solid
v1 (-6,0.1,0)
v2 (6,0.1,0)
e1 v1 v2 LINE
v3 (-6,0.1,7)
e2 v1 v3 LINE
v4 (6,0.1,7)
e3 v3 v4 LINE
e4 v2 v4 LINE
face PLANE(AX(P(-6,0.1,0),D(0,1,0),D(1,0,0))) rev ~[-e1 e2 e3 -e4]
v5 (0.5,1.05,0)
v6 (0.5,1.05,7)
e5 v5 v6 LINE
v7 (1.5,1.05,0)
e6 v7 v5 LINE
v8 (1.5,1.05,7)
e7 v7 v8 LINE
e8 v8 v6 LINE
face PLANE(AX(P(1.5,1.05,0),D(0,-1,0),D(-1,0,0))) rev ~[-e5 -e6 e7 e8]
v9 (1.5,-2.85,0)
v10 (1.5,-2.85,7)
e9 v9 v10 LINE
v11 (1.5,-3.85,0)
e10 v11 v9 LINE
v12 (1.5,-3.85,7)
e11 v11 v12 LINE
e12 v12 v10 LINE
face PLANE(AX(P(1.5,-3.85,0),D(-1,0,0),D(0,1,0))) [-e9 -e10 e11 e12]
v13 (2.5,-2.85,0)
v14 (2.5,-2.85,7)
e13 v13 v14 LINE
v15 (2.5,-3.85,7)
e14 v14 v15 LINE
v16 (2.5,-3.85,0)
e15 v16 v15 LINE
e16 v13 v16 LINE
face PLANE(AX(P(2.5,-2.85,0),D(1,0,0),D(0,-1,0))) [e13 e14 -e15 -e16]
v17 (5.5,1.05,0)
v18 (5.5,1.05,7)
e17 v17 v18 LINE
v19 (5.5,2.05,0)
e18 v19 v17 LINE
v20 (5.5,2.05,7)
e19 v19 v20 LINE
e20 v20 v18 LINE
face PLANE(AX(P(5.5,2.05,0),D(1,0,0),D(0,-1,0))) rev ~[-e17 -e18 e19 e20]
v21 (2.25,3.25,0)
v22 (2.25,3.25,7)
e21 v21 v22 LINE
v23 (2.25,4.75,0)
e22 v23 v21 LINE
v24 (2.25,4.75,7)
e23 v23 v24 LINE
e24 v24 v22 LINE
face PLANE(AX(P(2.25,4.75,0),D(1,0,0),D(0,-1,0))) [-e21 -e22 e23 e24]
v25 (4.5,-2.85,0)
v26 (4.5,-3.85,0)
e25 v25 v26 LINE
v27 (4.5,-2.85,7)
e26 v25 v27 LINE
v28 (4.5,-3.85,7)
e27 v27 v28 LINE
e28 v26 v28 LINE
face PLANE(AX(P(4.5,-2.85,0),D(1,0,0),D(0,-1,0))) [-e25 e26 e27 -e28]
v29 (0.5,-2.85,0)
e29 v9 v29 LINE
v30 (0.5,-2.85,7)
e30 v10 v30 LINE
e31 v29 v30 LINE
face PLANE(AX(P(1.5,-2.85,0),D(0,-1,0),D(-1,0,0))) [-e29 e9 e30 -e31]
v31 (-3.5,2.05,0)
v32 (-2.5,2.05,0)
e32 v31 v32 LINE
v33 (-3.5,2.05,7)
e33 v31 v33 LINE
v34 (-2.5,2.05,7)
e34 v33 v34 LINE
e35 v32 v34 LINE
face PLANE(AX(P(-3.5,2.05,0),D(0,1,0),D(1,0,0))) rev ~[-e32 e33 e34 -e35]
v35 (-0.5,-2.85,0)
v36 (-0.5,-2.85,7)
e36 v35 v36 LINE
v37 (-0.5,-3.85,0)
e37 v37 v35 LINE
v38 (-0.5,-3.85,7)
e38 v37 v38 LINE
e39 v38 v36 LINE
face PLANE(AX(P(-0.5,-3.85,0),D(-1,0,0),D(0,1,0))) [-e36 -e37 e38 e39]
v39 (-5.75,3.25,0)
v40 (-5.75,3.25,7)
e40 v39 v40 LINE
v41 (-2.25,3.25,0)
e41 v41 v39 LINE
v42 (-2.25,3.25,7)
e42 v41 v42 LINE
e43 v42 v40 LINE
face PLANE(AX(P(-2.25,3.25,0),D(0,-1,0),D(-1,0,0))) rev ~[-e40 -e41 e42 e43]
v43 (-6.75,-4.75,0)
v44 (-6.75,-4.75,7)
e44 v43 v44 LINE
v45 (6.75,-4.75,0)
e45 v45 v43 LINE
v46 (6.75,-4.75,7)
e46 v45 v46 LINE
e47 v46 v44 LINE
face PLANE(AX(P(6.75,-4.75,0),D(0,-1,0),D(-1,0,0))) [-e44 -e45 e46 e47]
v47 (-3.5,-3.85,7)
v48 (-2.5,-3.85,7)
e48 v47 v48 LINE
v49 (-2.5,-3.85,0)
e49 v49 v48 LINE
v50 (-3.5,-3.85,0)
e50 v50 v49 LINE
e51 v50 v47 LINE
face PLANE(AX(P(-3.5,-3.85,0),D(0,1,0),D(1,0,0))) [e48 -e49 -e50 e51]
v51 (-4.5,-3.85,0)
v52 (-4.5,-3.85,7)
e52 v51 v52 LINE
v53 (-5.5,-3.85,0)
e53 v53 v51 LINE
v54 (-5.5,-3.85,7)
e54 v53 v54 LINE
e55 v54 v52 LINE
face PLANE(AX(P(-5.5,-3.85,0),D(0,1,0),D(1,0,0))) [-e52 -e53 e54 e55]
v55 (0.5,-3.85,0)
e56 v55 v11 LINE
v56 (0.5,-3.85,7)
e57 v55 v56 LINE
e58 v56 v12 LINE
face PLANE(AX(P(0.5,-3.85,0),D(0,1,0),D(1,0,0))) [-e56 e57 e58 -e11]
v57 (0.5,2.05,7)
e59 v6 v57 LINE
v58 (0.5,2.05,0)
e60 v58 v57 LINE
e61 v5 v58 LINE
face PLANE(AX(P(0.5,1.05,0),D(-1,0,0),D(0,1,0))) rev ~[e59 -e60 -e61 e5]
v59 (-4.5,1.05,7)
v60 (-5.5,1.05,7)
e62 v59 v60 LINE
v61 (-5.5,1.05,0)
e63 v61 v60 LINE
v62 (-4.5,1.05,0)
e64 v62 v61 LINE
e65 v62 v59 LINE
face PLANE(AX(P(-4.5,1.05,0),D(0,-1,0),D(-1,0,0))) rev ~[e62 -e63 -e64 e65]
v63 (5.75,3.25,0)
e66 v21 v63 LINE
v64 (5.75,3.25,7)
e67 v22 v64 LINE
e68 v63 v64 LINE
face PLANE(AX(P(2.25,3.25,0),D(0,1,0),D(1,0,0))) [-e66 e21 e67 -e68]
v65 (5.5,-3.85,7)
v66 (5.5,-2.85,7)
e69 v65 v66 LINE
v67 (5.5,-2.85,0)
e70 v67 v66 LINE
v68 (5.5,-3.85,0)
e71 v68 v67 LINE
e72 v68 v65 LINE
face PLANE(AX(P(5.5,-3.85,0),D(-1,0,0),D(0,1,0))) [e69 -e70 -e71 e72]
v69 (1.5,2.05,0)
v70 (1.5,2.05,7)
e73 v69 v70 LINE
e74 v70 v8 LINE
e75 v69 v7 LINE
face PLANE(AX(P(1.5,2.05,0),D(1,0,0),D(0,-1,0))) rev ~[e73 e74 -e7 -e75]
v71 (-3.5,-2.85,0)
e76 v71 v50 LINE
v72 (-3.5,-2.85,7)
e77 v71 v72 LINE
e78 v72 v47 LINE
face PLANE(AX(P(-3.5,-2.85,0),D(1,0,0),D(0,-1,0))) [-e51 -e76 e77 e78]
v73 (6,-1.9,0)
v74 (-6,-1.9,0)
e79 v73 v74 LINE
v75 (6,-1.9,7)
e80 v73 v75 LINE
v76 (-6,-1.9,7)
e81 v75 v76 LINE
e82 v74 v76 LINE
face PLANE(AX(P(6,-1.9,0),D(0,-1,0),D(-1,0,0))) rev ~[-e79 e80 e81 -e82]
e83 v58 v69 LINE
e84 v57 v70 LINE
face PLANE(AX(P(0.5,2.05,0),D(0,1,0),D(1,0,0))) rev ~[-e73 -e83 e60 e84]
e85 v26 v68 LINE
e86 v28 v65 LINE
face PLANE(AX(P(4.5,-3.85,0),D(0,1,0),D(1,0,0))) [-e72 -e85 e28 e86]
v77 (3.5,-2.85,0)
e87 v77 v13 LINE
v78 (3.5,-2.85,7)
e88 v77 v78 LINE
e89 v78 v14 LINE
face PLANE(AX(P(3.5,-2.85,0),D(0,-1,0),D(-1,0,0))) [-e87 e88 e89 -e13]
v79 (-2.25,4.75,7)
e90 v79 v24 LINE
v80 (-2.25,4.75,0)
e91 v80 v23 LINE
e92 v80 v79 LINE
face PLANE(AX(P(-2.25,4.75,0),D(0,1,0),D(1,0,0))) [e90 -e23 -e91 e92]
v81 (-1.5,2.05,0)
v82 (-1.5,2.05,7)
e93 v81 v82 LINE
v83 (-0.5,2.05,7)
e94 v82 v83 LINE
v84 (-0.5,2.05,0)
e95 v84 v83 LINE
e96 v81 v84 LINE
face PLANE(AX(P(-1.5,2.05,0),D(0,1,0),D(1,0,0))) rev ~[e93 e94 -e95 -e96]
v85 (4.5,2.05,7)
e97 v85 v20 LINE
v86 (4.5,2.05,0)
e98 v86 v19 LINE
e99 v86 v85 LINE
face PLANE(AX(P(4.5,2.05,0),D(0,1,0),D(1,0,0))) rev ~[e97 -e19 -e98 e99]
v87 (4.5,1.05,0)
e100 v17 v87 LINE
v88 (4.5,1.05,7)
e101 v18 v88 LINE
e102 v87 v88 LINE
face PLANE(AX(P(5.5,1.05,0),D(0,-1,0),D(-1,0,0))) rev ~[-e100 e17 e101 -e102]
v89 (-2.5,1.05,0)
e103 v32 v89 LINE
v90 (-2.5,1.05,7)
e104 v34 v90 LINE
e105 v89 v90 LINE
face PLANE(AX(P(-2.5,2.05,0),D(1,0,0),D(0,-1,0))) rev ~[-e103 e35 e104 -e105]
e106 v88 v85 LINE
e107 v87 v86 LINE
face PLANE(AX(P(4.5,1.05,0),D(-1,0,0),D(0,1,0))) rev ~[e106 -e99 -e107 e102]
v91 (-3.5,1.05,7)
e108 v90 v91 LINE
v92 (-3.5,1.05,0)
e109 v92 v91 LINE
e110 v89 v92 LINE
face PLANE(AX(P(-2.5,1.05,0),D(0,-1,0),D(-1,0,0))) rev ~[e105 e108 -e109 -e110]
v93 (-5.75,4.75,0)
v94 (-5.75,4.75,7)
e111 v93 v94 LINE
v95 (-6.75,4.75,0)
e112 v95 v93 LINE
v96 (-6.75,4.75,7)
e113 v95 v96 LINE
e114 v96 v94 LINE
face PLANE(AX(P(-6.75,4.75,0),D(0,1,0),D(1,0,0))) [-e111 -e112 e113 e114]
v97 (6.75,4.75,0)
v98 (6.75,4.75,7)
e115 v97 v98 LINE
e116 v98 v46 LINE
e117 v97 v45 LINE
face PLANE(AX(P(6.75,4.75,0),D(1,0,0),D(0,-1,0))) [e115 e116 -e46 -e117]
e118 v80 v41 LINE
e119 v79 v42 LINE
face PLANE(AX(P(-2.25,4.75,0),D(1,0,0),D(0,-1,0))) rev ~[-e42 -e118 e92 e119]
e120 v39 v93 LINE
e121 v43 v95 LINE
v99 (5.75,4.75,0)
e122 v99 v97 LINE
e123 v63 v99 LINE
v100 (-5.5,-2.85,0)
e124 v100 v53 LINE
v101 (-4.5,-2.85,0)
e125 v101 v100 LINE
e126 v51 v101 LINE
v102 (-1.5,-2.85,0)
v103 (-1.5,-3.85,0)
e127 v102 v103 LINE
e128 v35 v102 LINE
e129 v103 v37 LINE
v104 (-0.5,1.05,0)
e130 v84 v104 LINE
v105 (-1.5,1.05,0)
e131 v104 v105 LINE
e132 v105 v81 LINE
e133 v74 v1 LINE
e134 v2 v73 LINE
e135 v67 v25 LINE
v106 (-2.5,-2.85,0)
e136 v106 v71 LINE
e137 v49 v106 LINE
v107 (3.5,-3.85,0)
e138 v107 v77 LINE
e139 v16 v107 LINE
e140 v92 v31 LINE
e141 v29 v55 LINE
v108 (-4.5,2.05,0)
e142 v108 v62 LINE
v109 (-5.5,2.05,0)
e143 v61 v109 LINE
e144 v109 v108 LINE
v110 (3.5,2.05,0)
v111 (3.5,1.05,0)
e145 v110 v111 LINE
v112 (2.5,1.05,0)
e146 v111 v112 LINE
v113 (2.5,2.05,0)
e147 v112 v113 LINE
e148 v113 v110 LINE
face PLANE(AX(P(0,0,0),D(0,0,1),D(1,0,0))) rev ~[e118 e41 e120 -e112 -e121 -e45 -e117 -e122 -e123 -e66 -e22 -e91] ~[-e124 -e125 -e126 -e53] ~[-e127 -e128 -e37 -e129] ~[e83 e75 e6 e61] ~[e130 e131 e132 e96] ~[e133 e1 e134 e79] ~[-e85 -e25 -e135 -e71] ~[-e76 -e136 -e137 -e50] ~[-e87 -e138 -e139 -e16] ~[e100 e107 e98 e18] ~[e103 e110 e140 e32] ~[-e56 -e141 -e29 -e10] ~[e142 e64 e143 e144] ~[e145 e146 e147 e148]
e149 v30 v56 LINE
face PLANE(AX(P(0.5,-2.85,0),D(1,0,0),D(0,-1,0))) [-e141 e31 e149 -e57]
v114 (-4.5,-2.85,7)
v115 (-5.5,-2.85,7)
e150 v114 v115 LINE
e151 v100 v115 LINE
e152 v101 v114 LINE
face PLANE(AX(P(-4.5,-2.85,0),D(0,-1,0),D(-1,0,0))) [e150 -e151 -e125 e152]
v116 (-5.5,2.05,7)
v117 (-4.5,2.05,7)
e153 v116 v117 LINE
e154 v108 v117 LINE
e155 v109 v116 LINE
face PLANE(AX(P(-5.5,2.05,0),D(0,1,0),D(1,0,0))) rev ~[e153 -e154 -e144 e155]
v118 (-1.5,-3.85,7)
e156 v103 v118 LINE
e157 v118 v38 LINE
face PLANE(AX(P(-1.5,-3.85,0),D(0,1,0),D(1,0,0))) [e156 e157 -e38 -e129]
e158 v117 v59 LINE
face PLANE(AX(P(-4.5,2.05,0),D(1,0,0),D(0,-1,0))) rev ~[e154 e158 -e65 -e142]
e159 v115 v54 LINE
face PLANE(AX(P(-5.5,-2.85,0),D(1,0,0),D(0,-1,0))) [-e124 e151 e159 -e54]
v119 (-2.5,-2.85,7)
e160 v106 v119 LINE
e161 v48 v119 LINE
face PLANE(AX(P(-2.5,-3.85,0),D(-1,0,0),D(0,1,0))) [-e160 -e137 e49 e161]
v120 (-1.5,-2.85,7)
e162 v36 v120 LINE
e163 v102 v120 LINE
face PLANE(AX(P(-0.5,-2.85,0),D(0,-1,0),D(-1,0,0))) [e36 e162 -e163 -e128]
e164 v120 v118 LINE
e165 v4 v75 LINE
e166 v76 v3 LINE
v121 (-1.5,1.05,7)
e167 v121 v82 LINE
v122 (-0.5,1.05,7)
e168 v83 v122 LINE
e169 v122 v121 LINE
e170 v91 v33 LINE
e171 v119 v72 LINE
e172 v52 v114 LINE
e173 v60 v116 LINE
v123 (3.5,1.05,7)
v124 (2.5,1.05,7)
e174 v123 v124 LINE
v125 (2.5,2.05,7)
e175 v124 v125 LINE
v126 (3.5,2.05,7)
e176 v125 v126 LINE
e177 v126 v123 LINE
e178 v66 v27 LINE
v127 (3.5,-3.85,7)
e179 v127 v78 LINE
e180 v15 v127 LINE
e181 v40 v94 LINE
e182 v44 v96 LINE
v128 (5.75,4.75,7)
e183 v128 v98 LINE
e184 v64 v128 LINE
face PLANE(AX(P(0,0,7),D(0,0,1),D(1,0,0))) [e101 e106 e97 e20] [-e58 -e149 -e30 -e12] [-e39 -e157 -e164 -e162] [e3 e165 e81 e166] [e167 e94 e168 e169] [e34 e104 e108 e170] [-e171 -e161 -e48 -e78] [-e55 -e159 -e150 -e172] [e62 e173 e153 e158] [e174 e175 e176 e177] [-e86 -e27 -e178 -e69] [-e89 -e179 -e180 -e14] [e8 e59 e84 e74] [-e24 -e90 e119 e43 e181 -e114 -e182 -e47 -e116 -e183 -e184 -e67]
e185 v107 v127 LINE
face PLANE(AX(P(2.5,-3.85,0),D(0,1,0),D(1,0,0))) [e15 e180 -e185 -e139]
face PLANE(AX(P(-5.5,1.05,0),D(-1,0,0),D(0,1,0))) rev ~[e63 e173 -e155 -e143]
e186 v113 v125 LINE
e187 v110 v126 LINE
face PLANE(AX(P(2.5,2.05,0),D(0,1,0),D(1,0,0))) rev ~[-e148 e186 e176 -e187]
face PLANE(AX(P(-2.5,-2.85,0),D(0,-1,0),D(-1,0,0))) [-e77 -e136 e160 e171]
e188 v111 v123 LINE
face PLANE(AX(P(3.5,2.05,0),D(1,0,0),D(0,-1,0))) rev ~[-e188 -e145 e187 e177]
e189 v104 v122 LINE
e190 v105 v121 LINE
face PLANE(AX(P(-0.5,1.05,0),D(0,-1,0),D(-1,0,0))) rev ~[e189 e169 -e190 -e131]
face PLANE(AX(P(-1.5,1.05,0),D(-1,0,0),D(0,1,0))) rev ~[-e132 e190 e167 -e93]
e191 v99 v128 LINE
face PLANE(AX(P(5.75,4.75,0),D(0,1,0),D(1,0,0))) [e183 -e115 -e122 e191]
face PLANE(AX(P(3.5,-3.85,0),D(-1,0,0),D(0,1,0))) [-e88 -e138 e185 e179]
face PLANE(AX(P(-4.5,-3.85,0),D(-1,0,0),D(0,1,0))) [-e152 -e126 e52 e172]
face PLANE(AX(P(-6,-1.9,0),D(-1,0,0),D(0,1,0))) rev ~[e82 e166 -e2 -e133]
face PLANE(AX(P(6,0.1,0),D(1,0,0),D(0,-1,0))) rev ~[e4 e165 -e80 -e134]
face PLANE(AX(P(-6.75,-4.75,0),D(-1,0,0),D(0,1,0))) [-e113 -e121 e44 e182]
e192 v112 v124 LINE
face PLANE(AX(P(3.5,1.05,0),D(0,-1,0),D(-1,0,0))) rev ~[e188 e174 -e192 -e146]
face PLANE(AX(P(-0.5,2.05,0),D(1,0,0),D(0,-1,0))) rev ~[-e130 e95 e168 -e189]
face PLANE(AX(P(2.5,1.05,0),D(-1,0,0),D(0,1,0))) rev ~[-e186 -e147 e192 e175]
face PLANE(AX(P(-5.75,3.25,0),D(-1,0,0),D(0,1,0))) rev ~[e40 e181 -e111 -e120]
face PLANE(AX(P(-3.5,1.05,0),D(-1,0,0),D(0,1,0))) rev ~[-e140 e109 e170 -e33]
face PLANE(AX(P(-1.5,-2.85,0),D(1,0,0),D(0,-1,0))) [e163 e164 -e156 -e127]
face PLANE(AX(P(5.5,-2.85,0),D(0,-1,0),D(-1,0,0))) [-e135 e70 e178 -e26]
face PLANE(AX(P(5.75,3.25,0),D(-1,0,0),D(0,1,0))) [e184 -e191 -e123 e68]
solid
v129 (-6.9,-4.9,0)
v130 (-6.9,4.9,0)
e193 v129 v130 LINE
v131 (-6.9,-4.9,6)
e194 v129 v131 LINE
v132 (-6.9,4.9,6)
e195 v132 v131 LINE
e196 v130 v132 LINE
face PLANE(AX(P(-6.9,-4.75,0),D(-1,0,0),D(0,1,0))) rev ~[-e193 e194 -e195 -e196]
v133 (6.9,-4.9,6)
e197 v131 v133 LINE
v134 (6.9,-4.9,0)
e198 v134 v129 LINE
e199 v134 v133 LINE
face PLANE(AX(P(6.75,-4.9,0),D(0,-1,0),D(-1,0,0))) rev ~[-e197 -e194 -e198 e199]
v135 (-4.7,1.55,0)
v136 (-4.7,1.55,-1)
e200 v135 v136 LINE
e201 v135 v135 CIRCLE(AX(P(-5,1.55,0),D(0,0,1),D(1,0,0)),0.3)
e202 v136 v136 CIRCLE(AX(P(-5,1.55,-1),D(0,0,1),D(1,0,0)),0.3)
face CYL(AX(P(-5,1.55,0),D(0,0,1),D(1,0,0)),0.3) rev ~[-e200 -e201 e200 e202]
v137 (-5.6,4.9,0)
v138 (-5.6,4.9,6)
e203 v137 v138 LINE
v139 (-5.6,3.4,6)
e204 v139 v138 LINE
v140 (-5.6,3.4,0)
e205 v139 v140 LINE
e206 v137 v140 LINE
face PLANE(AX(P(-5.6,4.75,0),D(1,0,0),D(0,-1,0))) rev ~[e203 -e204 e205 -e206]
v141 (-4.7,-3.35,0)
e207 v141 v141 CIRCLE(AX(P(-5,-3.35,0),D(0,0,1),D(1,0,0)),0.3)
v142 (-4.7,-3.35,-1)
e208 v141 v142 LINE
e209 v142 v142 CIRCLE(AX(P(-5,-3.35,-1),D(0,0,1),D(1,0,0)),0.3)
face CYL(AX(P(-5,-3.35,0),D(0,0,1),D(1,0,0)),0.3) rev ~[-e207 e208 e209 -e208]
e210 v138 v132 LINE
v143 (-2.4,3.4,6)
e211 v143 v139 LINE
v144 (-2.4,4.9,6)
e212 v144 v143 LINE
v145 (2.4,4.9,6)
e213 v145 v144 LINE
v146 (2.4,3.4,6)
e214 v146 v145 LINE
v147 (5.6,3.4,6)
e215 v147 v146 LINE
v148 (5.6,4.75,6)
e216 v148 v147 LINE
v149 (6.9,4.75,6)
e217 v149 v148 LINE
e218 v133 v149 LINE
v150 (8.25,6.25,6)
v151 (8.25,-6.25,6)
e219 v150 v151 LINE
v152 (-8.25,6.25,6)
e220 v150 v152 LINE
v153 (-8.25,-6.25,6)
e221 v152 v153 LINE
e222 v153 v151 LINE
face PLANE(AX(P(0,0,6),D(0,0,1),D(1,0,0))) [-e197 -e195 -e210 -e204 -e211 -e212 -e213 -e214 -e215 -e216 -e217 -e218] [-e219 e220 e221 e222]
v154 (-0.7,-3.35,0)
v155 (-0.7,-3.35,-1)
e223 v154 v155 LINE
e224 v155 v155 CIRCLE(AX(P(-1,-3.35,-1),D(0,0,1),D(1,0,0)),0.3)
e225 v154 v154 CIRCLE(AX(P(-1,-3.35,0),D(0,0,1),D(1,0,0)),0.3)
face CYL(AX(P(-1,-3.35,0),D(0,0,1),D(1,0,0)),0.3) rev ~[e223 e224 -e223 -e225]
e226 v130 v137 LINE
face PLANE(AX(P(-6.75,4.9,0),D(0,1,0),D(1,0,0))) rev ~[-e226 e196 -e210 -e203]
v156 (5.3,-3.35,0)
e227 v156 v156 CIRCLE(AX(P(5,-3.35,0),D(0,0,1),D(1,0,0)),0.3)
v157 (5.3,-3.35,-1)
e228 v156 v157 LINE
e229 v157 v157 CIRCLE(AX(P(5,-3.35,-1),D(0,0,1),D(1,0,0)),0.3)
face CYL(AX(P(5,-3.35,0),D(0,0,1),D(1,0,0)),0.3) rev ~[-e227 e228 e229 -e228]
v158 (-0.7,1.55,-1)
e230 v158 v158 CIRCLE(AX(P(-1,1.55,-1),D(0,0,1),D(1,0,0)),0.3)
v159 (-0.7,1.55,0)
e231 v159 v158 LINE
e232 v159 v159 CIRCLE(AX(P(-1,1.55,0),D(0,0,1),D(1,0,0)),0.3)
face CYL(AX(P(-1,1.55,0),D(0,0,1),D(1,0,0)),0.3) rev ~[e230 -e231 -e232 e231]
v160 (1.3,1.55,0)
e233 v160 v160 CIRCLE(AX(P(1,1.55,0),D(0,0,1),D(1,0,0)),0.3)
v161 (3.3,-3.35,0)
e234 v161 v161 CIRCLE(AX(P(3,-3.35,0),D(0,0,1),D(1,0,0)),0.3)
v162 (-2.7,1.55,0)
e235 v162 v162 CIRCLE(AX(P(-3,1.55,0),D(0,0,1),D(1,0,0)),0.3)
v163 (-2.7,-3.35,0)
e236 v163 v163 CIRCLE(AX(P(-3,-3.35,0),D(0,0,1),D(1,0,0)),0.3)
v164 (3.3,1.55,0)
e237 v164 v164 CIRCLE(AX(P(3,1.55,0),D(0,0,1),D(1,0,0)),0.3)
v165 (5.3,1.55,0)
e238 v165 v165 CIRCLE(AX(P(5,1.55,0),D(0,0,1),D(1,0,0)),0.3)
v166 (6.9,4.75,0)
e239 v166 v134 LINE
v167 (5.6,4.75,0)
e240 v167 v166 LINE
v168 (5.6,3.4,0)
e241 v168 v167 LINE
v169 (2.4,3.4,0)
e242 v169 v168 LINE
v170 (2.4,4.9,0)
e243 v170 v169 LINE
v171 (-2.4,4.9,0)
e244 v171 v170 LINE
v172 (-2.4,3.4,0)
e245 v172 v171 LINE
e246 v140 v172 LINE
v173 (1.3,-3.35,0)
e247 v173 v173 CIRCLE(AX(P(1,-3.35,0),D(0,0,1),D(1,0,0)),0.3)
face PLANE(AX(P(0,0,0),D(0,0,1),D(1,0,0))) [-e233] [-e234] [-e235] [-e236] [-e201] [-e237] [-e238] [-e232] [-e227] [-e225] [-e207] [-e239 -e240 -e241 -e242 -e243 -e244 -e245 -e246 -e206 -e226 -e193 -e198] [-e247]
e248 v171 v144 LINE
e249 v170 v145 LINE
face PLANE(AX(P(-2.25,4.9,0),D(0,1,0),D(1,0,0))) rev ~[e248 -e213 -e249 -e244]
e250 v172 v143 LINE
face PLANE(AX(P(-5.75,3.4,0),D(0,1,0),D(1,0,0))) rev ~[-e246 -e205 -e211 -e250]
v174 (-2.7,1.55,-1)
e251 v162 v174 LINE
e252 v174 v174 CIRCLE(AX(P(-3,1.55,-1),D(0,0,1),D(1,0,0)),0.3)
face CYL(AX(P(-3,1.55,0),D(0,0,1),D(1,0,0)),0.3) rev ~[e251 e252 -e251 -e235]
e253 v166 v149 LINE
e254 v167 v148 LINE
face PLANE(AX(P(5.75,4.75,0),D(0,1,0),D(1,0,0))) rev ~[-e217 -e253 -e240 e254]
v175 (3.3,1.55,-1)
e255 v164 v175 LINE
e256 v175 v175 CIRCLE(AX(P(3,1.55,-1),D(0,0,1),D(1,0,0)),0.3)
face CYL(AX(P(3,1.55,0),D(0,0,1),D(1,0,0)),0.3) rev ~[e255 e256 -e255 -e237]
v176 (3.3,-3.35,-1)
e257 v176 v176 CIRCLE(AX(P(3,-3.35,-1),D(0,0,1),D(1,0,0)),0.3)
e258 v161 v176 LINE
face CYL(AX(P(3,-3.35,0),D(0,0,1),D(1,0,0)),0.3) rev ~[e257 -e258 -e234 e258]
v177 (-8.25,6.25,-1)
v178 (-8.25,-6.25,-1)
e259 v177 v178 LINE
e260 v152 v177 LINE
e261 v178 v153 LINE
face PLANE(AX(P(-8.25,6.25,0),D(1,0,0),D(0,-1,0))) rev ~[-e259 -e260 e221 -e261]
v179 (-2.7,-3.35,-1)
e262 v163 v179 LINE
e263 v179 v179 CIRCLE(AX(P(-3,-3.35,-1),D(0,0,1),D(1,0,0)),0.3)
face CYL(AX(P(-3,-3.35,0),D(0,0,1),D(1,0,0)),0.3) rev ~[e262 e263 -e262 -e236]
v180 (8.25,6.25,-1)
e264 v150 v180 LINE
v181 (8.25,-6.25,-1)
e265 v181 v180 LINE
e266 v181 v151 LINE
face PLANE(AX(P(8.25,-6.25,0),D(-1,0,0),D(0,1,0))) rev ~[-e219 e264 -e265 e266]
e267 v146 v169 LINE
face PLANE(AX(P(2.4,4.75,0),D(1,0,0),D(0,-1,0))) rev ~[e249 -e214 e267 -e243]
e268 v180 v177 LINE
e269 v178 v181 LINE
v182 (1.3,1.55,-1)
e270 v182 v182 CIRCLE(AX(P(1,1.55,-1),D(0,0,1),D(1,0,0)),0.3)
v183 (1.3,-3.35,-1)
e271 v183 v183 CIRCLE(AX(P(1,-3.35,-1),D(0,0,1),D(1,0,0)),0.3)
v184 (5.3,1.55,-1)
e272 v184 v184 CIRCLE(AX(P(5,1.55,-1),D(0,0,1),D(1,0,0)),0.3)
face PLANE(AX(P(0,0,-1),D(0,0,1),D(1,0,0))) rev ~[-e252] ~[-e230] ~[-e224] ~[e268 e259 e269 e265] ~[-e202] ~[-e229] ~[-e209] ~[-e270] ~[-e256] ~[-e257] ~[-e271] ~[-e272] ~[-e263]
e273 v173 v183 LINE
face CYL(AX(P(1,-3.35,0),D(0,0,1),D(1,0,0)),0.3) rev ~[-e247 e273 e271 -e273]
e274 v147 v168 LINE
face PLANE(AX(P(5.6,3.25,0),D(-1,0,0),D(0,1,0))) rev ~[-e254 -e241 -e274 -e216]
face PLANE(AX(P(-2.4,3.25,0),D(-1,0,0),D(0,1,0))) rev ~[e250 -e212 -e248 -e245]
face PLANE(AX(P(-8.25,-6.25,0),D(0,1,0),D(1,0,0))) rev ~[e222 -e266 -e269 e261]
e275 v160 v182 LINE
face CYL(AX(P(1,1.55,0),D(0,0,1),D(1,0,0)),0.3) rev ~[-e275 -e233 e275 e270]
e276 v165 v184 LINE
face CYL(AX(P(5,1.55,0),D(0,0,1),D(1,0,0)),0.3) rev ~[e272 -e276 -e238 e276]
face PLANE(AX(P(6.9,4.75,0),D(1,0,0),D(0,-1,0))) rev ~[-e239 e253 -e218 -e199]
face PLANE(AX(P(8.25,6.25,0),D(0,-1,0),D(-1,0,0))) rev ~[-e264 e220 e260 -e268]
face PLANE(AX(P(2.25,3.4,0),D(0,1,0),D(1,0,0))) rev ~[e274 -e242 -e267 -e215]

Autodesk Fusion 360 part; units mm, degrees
sketch "Sketch1" plane through (0, 0, 0) normal (0, 0, 1) x (1, 0, 0) in component "Connector"
  line L0 (6.75, -4.75) -> (-6.75, -4.75)
  line L1 (-6.75, -4.75) -> (-6.75, 4.75)
  line L2 (-6.75, 4.75) -> (6.75, 4.75)
  line L3 (6.75, 4.75) -> (6.75, -4.75)
  line L4 (6.75, -4.75) -> (-6.75, 4.75) construction
  line L5 (-6.75, -4.75) -> (6.75, 4.75) construction
  line L6 (-5.75, 4.75) -> (-2.25, 4.75)
  line L7 (-2.25, 4.75) -> (-2.25, 3.25)
  line L8 (-2.25, 3.25) -> (-5.75, 3.25)
  line L9 (-5.75, 3.25) -> (-5.75, 4.75)
  line L10 (0, 0) -> (0, 4.75) construction
  line L11 (2.25, 3.25) -> (5.75, 3.25)
  line L12 (2.25, 4.75) -> (2.25, 3.25)
  line L13 (5.75, 3.25) -> (5.75, 4.75)
  line L14 (5.75, 4.75) -> (2.25, 4.75)
  line L15 (0, -4.75) -> (0, -0.9) construction
  line L16 (6, -1.9) -> (-6, -1.9)
  line L17 (-6, -1.9) -> (-6, 0.1)
  line L18 (-6, 0.1) -> (6, 0.1)
  line L19 (6, 0.1) -> (6, -1.9)
  line L20 (6, -1.9) -> (-6, 0.1) construction
  line L21 (-6, -1.9) -> (6, 0.1) construction
  line L22 (-5.5, -3.85) -> (-4.5, -3.85)
  line L23 (-4.5, -3.85) -> (-4.5, -2.85)
  line L24 (-4.5, -2.85) -> (-5.5, -2.85)
  line L25 (-5.5, -2.85) -> (-5.5, -3.85)
  line L26 (-3.5, -3.85) -> (-2.5, -3.85)
  line L27 (-2.5, -3.85) -> (-2.5, -2.85)
  line L28 (-2.5, -2.85) -> (-3.5, -2.85)
  line L29 (-3.5, -2.85) -> (-3.5, -3.85)
  line L30 (-1.5, -3.85) -> (-0.5, -3.85)
  line L31 (-0.5, -3.85) -> (-0.5, -2.85)
  line L32 (-0.5, -2.85) -> (-1.5, -2.85)
  line L33 (-1.5, -2.85) -> (-1.5, -3.85)
  line L34 (0.5, -3.85) -> (1.5, -3.85)
  line L35 (1.5, -3.85) -> (1.5, -2.85)
  line L36 (1.5, -2.85) -> (0.5, -2.85)
  line L37 (0.5, -2.85) -> (0.5, -3.85)
  line L38 (2.5, -3.85) -> (3.5, -3.85)
  line L39 (3.5, -3.85) -> (3.5, -2.85)
  line L40 (3.5, -2.85) -> (2.5, -2.85)
  line L41 (2.5, -2.85) -> (2.5, -3.85)
  line L42 (4.5, -3.85) -> (5.5, -3.85)
  line L43 (5.5, -3.85) -> (5.5, -2.85)
  line L44 (5.5, -2.85) -> (4.5, -2.85)
  line L45 (4.5, -2.85) -> (4.5, -3.85)
  line L46 (-5.5, -3.85) -> (-6.75, -3.85) construction
  line L47 (5.5, -3.85) -> (6.75, -3.85) construction
  line L48 (0, -0.9) -> (6, -0.9) construction
  line L49 (-1.5, 1.05) -> (-1.5, 2.05)
  line L50 (4.5, 1.05) -> (4.5, 2.05)
  line L51 (1.5, 2.05) -> (1.5, 1.05)
  line L52 (-0.5, 2.05) -> (-0.5, 1.05)
  line L53 (-3.5, 2.05) -> (-2.5, 2.05)
  line L54 (-2.5, 1.05) -> (-3.5, 1.05)
  line L55 (-2.5, 2.05) -> (-2.5, 1.05)
  line L56 (3.5, 1.05) -> (2.5, 1.05)
  line L57 (1.5, 1.05) -> (0.5, 1.05)
  line L58 (-4.5, 2.05) -> (-4.5, 1.05)
  line L59 (0.5, 1.05) -> (0.5, 2.05)
  line L60 (3.5, 2.05) -> (3.5, 1.05)
  line L61 (-1.5, 2.05) -> (-0.5, 2.05)
  line L62 (-5.5, 2.05) -> (-4.5, 2.05)
  line L63 (5.5, 2.05) -> (5.5, 1.05)
  line L64 (-0.5, 1.05) -> (-1.5, 1.05)
  line L65 (2.5, 1.05) -> (2.5, 2.05)
  line L66 (4.5, 2.05) -> (5.5, 2.05)
  line L67 (-3.5, 1.05) -> (-3.5, 2.05)
  line L68 (5.5, 1.05) -> (4.5, 1.05)
  line L69 (0.5, 2.05) -> (1.5, 2.05)
  line L70 (-4.5, 1.05) -> (-5.5, 1.05)
  line L71 (-5.5, 1.05) -> (-5.5, 2.05)
  line L72 (2.5, 2.05) -> (3.5, 2.05)
  point P0 (0, -0.9)
  dimension "d1" = 13.5
  dimension "d2" = 9.5
  dimension "d3" = 3.5
  dimension "d4" = 1.5
  dimension "d5" = 1
  dimension "d6" = 3.85
  dimension "d7" = 12
  dimension "d8" = 2
  dimension "d9" = 1
  dimension "d10" = 1
  dimension "d11" = 0.9
  dimension "d15" = 2
  dimension "d16" = 0
extrude "Extrude1" add sketch "Sketch1" along normal blind 7 contours L0 L1 L2 L3 L7 L8 L9 L11 L12 L13 makes body 1 in component "Connector"
sketch "Sketch1 (2)" plane through (0, 0, 0) normal (0, 0, 1) x (1, 0, 0) in component "Socket"
  line L0 (4.5, -2.85) -> (4.5, -3.85) construction
  line L1 (4.5, -3.85) -> (5.5, -3.85) construction
  line L2 (5.5, -3.85) -> (5.5, -2.85) construction
  line L3 (5.5, -2.85) -> (4.5, -2.85) construction
  line L4 (0.5, -2.85) -> (0.5, -3.85) construction
  line L5 (0.5, -3.85) -> (1.5, -3.85) construction
  line L6 (1.5, -3.85) -> (1.5, -2.85) construction
  line L7 (1.5, -2.85) -> (0.5, -2.85) construction
  line L8 (-5.5, -2.85) -> (-5.5, -3.85) construction
  line L9 (-5.5, -3.85) -> (-4.5, -3.85) construction
  line L10 (-4.5, -3.85) -> (-4.5, -2.85) construction
  line L11 (-4.5, -2.85) -> (-5.5, -2.85) construction
  line L12 (-5.5, 1.05) -> (-4.5, 1.05) construction
  line L13 (-4.5, 1.05) -> (-4.5, 2.05) construction
  line L14 (-4.5, 2.05) -> (-5.5, 2.05) construction
  line L15 (-5.5, 2.05) -> (-5.5, 1.05) construction
  line L16 (2.5, 2.05) -> (2.5, 1.05) construction
  line L17 (2.5, 1.05) -> (3.5, 1.05) construction
  line L18 (3.5, 1.05) -> (3.5, 2.05) construction
  line L19 (3.5, 2.05) -> (2.5, 2.05) construction
  line L20 (0.5, 2.05) -> (0.5, 1.05) construction
  line L21 (0.5, 1.05) -> (1.5, 1.05) construction
  line L22 (1.5, 1.05) -> (1.5, 2.05) construction
  line L23 (1.5, 2.05) -> (0.5, 2.05) construction
  line L24 (5.5, 1.05) -> (5.5, 2.05) construction
  line L25 (5.5, 2.05) -> (4.5, 2.05) construction
  line L26 (4.5, 2.05) -> (4.5, 1.05) construction
  line L27 (4.5, 1.05) -> (5.5, 1.05) construction
  line L28 (-0.5, 1.05) -> (-0.5, 2.05) construction
  line L29 (-0.5, 2.05) -> (-1.5, 2.05) construction
  line L30 (-1.5, 2.05) -> (-1.5, 1.05) construction
  line L31 (-1.5, 1.05) -> (-0.5, 1.05) construction
  line L32 (-3.5, 1.05) -> (-2.5, 1.05) construction
  line L33 (-2.5, 1.05) -> (-2.5, 2.05) construction
  line L34 (-2.5, 2.05) -> (-3.5, 2.05) construction
  line L35 (-3.5, 2.05) -> (-3.5, 1.05) construction
  line L36 (-1.5, -2.85) -> (-1.5, -3.85) construction
  line L37 (-1.5, -3.85) -> (-0.5, -3.85) construction
  line L38 (-0.5, -3.85) -> (-0.5, -2.85) construction
  line L39 (-0.5, -2.85) -> (-1.5, -2.85) construction
  line L40 (2.5, -2.85) -> (2.5, -3.85) construction
  line L41 (2.5, -3.85) -> (3.5, -3.85) construction
  line L42 (3.5, -3.85) -> (3.5, -2.85) construction
  line L43 (3.5, -2.85) -> (2.5, -2.85) construction
  line L44 (-3.5, -2.85) -> (-3.5, -3.85) construction
  line L45 (-3.5, -3.85) -> (-2.5, -3.85) construction
  line L46 (-2.5, -3.85) -> (-2.5, -2.85) construction
  line L47 (-2.5, -2.85) -> (-3.5, -2.85) construction
  line L48 (6, 0.1) -> (-6, 0.1) construction
  line L49 (-6, 0.1) -> (-6, -1.9) construction
  line L50 (-6, -1.9) -> (6, -1.9) construction
  line L51 (6, -1.9) -> (6, 0.1) construction
  line L52 (-2.25, 3.25) -> (-2.25, 4.75)
  line L53 (-2.25, 4.75) -> (2.25, 4.75)
  line L54 (2.25, 4.75) -> (2.25, 3.25)
  line L55 (2.25, 3.25) -> (5.75, 3.25)
  line L56 (5.75, 3.25) -> (5.75, 4.75)
  line L57 (5.75, 4.75) -> (6.75, 4.75)
  line L58 (6.75, 4.75) -> (6.75, -4.75)
  line L59 (6.75, -4.75) -> (-6.75, -4.75)
  line L60 (-6.75, -4.75) -> (-6.75, 4.75)
  line L61 (-6.75, 4.75) -> (-5.75, 4.75)
  line L62 (-5.75, 4.75) -> (-5.75, 3.25)
  line L63 (-5.75, 3.25) -> (-2.25, 3.25)
  line L64 (-8.25, -6.25) -> (8.25, -6.25)
  line L65 (8.25, -6.25) -> (8.25, 6.25)
  line L66 (8.25, 6.25) -> (-8.25, 6.25)
  line L67 (-8.25, 6.25) -> (-8.25, -6.25)
  line L68 (-8.25, -6.25) -> (8.25, 6.25) construction
  line L69 (8.25, -6.25) -> (-8.25, 6.25) construction
  line L70 (5.5, 1.05) -> (4.5, 2.05) construction
  line L71 (5.5, -3.85) -> (4.5, -2.85) construction
  line L72 (3.5, -3.85) -> (2.5, -2.85) construction
  line L73 (1.5, -3.85) -> (0.5, -2.85) construction
  line L74 (3.5, 1.05) -> (2.5, 2.05) construction
  line L75 (1.5, 1.05) -> (0.5, 2.05) construction
  line L76 (-0.5, 1.05) -> (-1.5, 2.05) construction
  line L77 (-2.5, 1.05) -> (-3.5, 2.05) construction
  line L78 (-4.5, 1.05) -> (-5.5, 2.05) construction
  line L79 (-4.5, -3.85) -> (-5.5, -2.85) construction
  line L80 (-2.5, -3.85) -> (-3.5, -2.85) construction
  line L81 (-0.5, -3.85) -> (-1.5, -2.85) construction
  circle A0 centre (5, 1.55) radius 0.3
  circle A1 centre (3, 1.55) radius 0.3
  circle A2 centre (1, 1.55) radius 0.3
  circle A3 centre (-1, 1.55) radius 0.3
  circle A4 centre (-3, 1.55) radius 0.3
  circle A5 centre (-5, 1.55) radius 0.3
  circle A6 centre (-5, -3.35) radius 0.3
  circle A7 centre (-3, -3.35) radius 0.3
  circle A8 centre (-1, -3.35) radius 0.3
  circle A9 centre (1, -3.35) radius 0.3
  circle A10 centre (3, -3.35) radius 0.3
  circle A11 centre (5, -3.35) radius 0.3
  dimension "d19" = 1.5
  dimension "d20" = 1.5
  dimension "d21" = 0.6
extrude "Extrude1'" add sketch "Sketch1 (2)" along normal blind 6 separate body contours L64 L65 L66 L67 makes body 2 in component "Socket"
extrude "Extrude2" add sketch "Sketch1 (2)" against normal blind 1 contours L52 L53 L54 L55 L56 L57 L58 L59 L60 L61 L62 L63 | L64 L65 L66 L67 bodies 2 in component "Socket"
move_face "OffsetFaces1" offset -0.15 11 faces at (-0.75, 4.75, 2) (-2.25, 4.25, 4) (-4.5833, 3.25, 2) (-6.4167, 4.75, 2) (-6.75, -1.5833, 2) (3.4167, 3.25, 2) (5.75, 4.25, 4) (2.25, 4.25, 2) (-5.75, 4.25, 2) (6.75, 1.5833, 2) (2.25, -4.75, 2) on bodies 2 in component "Socket"
component "Connector" placed x (1, 0, 0) y (0, 1, 0) z (0, 0, 1) at (0, 0, 0)
component "Socket" placed x (1, 0, 0) y (0, 1, 0) z (0, 0, 1) at (0, 0, 0)
equation "d6 = 2.85 mm + d8 / 2"
equation "d20 = d19"
